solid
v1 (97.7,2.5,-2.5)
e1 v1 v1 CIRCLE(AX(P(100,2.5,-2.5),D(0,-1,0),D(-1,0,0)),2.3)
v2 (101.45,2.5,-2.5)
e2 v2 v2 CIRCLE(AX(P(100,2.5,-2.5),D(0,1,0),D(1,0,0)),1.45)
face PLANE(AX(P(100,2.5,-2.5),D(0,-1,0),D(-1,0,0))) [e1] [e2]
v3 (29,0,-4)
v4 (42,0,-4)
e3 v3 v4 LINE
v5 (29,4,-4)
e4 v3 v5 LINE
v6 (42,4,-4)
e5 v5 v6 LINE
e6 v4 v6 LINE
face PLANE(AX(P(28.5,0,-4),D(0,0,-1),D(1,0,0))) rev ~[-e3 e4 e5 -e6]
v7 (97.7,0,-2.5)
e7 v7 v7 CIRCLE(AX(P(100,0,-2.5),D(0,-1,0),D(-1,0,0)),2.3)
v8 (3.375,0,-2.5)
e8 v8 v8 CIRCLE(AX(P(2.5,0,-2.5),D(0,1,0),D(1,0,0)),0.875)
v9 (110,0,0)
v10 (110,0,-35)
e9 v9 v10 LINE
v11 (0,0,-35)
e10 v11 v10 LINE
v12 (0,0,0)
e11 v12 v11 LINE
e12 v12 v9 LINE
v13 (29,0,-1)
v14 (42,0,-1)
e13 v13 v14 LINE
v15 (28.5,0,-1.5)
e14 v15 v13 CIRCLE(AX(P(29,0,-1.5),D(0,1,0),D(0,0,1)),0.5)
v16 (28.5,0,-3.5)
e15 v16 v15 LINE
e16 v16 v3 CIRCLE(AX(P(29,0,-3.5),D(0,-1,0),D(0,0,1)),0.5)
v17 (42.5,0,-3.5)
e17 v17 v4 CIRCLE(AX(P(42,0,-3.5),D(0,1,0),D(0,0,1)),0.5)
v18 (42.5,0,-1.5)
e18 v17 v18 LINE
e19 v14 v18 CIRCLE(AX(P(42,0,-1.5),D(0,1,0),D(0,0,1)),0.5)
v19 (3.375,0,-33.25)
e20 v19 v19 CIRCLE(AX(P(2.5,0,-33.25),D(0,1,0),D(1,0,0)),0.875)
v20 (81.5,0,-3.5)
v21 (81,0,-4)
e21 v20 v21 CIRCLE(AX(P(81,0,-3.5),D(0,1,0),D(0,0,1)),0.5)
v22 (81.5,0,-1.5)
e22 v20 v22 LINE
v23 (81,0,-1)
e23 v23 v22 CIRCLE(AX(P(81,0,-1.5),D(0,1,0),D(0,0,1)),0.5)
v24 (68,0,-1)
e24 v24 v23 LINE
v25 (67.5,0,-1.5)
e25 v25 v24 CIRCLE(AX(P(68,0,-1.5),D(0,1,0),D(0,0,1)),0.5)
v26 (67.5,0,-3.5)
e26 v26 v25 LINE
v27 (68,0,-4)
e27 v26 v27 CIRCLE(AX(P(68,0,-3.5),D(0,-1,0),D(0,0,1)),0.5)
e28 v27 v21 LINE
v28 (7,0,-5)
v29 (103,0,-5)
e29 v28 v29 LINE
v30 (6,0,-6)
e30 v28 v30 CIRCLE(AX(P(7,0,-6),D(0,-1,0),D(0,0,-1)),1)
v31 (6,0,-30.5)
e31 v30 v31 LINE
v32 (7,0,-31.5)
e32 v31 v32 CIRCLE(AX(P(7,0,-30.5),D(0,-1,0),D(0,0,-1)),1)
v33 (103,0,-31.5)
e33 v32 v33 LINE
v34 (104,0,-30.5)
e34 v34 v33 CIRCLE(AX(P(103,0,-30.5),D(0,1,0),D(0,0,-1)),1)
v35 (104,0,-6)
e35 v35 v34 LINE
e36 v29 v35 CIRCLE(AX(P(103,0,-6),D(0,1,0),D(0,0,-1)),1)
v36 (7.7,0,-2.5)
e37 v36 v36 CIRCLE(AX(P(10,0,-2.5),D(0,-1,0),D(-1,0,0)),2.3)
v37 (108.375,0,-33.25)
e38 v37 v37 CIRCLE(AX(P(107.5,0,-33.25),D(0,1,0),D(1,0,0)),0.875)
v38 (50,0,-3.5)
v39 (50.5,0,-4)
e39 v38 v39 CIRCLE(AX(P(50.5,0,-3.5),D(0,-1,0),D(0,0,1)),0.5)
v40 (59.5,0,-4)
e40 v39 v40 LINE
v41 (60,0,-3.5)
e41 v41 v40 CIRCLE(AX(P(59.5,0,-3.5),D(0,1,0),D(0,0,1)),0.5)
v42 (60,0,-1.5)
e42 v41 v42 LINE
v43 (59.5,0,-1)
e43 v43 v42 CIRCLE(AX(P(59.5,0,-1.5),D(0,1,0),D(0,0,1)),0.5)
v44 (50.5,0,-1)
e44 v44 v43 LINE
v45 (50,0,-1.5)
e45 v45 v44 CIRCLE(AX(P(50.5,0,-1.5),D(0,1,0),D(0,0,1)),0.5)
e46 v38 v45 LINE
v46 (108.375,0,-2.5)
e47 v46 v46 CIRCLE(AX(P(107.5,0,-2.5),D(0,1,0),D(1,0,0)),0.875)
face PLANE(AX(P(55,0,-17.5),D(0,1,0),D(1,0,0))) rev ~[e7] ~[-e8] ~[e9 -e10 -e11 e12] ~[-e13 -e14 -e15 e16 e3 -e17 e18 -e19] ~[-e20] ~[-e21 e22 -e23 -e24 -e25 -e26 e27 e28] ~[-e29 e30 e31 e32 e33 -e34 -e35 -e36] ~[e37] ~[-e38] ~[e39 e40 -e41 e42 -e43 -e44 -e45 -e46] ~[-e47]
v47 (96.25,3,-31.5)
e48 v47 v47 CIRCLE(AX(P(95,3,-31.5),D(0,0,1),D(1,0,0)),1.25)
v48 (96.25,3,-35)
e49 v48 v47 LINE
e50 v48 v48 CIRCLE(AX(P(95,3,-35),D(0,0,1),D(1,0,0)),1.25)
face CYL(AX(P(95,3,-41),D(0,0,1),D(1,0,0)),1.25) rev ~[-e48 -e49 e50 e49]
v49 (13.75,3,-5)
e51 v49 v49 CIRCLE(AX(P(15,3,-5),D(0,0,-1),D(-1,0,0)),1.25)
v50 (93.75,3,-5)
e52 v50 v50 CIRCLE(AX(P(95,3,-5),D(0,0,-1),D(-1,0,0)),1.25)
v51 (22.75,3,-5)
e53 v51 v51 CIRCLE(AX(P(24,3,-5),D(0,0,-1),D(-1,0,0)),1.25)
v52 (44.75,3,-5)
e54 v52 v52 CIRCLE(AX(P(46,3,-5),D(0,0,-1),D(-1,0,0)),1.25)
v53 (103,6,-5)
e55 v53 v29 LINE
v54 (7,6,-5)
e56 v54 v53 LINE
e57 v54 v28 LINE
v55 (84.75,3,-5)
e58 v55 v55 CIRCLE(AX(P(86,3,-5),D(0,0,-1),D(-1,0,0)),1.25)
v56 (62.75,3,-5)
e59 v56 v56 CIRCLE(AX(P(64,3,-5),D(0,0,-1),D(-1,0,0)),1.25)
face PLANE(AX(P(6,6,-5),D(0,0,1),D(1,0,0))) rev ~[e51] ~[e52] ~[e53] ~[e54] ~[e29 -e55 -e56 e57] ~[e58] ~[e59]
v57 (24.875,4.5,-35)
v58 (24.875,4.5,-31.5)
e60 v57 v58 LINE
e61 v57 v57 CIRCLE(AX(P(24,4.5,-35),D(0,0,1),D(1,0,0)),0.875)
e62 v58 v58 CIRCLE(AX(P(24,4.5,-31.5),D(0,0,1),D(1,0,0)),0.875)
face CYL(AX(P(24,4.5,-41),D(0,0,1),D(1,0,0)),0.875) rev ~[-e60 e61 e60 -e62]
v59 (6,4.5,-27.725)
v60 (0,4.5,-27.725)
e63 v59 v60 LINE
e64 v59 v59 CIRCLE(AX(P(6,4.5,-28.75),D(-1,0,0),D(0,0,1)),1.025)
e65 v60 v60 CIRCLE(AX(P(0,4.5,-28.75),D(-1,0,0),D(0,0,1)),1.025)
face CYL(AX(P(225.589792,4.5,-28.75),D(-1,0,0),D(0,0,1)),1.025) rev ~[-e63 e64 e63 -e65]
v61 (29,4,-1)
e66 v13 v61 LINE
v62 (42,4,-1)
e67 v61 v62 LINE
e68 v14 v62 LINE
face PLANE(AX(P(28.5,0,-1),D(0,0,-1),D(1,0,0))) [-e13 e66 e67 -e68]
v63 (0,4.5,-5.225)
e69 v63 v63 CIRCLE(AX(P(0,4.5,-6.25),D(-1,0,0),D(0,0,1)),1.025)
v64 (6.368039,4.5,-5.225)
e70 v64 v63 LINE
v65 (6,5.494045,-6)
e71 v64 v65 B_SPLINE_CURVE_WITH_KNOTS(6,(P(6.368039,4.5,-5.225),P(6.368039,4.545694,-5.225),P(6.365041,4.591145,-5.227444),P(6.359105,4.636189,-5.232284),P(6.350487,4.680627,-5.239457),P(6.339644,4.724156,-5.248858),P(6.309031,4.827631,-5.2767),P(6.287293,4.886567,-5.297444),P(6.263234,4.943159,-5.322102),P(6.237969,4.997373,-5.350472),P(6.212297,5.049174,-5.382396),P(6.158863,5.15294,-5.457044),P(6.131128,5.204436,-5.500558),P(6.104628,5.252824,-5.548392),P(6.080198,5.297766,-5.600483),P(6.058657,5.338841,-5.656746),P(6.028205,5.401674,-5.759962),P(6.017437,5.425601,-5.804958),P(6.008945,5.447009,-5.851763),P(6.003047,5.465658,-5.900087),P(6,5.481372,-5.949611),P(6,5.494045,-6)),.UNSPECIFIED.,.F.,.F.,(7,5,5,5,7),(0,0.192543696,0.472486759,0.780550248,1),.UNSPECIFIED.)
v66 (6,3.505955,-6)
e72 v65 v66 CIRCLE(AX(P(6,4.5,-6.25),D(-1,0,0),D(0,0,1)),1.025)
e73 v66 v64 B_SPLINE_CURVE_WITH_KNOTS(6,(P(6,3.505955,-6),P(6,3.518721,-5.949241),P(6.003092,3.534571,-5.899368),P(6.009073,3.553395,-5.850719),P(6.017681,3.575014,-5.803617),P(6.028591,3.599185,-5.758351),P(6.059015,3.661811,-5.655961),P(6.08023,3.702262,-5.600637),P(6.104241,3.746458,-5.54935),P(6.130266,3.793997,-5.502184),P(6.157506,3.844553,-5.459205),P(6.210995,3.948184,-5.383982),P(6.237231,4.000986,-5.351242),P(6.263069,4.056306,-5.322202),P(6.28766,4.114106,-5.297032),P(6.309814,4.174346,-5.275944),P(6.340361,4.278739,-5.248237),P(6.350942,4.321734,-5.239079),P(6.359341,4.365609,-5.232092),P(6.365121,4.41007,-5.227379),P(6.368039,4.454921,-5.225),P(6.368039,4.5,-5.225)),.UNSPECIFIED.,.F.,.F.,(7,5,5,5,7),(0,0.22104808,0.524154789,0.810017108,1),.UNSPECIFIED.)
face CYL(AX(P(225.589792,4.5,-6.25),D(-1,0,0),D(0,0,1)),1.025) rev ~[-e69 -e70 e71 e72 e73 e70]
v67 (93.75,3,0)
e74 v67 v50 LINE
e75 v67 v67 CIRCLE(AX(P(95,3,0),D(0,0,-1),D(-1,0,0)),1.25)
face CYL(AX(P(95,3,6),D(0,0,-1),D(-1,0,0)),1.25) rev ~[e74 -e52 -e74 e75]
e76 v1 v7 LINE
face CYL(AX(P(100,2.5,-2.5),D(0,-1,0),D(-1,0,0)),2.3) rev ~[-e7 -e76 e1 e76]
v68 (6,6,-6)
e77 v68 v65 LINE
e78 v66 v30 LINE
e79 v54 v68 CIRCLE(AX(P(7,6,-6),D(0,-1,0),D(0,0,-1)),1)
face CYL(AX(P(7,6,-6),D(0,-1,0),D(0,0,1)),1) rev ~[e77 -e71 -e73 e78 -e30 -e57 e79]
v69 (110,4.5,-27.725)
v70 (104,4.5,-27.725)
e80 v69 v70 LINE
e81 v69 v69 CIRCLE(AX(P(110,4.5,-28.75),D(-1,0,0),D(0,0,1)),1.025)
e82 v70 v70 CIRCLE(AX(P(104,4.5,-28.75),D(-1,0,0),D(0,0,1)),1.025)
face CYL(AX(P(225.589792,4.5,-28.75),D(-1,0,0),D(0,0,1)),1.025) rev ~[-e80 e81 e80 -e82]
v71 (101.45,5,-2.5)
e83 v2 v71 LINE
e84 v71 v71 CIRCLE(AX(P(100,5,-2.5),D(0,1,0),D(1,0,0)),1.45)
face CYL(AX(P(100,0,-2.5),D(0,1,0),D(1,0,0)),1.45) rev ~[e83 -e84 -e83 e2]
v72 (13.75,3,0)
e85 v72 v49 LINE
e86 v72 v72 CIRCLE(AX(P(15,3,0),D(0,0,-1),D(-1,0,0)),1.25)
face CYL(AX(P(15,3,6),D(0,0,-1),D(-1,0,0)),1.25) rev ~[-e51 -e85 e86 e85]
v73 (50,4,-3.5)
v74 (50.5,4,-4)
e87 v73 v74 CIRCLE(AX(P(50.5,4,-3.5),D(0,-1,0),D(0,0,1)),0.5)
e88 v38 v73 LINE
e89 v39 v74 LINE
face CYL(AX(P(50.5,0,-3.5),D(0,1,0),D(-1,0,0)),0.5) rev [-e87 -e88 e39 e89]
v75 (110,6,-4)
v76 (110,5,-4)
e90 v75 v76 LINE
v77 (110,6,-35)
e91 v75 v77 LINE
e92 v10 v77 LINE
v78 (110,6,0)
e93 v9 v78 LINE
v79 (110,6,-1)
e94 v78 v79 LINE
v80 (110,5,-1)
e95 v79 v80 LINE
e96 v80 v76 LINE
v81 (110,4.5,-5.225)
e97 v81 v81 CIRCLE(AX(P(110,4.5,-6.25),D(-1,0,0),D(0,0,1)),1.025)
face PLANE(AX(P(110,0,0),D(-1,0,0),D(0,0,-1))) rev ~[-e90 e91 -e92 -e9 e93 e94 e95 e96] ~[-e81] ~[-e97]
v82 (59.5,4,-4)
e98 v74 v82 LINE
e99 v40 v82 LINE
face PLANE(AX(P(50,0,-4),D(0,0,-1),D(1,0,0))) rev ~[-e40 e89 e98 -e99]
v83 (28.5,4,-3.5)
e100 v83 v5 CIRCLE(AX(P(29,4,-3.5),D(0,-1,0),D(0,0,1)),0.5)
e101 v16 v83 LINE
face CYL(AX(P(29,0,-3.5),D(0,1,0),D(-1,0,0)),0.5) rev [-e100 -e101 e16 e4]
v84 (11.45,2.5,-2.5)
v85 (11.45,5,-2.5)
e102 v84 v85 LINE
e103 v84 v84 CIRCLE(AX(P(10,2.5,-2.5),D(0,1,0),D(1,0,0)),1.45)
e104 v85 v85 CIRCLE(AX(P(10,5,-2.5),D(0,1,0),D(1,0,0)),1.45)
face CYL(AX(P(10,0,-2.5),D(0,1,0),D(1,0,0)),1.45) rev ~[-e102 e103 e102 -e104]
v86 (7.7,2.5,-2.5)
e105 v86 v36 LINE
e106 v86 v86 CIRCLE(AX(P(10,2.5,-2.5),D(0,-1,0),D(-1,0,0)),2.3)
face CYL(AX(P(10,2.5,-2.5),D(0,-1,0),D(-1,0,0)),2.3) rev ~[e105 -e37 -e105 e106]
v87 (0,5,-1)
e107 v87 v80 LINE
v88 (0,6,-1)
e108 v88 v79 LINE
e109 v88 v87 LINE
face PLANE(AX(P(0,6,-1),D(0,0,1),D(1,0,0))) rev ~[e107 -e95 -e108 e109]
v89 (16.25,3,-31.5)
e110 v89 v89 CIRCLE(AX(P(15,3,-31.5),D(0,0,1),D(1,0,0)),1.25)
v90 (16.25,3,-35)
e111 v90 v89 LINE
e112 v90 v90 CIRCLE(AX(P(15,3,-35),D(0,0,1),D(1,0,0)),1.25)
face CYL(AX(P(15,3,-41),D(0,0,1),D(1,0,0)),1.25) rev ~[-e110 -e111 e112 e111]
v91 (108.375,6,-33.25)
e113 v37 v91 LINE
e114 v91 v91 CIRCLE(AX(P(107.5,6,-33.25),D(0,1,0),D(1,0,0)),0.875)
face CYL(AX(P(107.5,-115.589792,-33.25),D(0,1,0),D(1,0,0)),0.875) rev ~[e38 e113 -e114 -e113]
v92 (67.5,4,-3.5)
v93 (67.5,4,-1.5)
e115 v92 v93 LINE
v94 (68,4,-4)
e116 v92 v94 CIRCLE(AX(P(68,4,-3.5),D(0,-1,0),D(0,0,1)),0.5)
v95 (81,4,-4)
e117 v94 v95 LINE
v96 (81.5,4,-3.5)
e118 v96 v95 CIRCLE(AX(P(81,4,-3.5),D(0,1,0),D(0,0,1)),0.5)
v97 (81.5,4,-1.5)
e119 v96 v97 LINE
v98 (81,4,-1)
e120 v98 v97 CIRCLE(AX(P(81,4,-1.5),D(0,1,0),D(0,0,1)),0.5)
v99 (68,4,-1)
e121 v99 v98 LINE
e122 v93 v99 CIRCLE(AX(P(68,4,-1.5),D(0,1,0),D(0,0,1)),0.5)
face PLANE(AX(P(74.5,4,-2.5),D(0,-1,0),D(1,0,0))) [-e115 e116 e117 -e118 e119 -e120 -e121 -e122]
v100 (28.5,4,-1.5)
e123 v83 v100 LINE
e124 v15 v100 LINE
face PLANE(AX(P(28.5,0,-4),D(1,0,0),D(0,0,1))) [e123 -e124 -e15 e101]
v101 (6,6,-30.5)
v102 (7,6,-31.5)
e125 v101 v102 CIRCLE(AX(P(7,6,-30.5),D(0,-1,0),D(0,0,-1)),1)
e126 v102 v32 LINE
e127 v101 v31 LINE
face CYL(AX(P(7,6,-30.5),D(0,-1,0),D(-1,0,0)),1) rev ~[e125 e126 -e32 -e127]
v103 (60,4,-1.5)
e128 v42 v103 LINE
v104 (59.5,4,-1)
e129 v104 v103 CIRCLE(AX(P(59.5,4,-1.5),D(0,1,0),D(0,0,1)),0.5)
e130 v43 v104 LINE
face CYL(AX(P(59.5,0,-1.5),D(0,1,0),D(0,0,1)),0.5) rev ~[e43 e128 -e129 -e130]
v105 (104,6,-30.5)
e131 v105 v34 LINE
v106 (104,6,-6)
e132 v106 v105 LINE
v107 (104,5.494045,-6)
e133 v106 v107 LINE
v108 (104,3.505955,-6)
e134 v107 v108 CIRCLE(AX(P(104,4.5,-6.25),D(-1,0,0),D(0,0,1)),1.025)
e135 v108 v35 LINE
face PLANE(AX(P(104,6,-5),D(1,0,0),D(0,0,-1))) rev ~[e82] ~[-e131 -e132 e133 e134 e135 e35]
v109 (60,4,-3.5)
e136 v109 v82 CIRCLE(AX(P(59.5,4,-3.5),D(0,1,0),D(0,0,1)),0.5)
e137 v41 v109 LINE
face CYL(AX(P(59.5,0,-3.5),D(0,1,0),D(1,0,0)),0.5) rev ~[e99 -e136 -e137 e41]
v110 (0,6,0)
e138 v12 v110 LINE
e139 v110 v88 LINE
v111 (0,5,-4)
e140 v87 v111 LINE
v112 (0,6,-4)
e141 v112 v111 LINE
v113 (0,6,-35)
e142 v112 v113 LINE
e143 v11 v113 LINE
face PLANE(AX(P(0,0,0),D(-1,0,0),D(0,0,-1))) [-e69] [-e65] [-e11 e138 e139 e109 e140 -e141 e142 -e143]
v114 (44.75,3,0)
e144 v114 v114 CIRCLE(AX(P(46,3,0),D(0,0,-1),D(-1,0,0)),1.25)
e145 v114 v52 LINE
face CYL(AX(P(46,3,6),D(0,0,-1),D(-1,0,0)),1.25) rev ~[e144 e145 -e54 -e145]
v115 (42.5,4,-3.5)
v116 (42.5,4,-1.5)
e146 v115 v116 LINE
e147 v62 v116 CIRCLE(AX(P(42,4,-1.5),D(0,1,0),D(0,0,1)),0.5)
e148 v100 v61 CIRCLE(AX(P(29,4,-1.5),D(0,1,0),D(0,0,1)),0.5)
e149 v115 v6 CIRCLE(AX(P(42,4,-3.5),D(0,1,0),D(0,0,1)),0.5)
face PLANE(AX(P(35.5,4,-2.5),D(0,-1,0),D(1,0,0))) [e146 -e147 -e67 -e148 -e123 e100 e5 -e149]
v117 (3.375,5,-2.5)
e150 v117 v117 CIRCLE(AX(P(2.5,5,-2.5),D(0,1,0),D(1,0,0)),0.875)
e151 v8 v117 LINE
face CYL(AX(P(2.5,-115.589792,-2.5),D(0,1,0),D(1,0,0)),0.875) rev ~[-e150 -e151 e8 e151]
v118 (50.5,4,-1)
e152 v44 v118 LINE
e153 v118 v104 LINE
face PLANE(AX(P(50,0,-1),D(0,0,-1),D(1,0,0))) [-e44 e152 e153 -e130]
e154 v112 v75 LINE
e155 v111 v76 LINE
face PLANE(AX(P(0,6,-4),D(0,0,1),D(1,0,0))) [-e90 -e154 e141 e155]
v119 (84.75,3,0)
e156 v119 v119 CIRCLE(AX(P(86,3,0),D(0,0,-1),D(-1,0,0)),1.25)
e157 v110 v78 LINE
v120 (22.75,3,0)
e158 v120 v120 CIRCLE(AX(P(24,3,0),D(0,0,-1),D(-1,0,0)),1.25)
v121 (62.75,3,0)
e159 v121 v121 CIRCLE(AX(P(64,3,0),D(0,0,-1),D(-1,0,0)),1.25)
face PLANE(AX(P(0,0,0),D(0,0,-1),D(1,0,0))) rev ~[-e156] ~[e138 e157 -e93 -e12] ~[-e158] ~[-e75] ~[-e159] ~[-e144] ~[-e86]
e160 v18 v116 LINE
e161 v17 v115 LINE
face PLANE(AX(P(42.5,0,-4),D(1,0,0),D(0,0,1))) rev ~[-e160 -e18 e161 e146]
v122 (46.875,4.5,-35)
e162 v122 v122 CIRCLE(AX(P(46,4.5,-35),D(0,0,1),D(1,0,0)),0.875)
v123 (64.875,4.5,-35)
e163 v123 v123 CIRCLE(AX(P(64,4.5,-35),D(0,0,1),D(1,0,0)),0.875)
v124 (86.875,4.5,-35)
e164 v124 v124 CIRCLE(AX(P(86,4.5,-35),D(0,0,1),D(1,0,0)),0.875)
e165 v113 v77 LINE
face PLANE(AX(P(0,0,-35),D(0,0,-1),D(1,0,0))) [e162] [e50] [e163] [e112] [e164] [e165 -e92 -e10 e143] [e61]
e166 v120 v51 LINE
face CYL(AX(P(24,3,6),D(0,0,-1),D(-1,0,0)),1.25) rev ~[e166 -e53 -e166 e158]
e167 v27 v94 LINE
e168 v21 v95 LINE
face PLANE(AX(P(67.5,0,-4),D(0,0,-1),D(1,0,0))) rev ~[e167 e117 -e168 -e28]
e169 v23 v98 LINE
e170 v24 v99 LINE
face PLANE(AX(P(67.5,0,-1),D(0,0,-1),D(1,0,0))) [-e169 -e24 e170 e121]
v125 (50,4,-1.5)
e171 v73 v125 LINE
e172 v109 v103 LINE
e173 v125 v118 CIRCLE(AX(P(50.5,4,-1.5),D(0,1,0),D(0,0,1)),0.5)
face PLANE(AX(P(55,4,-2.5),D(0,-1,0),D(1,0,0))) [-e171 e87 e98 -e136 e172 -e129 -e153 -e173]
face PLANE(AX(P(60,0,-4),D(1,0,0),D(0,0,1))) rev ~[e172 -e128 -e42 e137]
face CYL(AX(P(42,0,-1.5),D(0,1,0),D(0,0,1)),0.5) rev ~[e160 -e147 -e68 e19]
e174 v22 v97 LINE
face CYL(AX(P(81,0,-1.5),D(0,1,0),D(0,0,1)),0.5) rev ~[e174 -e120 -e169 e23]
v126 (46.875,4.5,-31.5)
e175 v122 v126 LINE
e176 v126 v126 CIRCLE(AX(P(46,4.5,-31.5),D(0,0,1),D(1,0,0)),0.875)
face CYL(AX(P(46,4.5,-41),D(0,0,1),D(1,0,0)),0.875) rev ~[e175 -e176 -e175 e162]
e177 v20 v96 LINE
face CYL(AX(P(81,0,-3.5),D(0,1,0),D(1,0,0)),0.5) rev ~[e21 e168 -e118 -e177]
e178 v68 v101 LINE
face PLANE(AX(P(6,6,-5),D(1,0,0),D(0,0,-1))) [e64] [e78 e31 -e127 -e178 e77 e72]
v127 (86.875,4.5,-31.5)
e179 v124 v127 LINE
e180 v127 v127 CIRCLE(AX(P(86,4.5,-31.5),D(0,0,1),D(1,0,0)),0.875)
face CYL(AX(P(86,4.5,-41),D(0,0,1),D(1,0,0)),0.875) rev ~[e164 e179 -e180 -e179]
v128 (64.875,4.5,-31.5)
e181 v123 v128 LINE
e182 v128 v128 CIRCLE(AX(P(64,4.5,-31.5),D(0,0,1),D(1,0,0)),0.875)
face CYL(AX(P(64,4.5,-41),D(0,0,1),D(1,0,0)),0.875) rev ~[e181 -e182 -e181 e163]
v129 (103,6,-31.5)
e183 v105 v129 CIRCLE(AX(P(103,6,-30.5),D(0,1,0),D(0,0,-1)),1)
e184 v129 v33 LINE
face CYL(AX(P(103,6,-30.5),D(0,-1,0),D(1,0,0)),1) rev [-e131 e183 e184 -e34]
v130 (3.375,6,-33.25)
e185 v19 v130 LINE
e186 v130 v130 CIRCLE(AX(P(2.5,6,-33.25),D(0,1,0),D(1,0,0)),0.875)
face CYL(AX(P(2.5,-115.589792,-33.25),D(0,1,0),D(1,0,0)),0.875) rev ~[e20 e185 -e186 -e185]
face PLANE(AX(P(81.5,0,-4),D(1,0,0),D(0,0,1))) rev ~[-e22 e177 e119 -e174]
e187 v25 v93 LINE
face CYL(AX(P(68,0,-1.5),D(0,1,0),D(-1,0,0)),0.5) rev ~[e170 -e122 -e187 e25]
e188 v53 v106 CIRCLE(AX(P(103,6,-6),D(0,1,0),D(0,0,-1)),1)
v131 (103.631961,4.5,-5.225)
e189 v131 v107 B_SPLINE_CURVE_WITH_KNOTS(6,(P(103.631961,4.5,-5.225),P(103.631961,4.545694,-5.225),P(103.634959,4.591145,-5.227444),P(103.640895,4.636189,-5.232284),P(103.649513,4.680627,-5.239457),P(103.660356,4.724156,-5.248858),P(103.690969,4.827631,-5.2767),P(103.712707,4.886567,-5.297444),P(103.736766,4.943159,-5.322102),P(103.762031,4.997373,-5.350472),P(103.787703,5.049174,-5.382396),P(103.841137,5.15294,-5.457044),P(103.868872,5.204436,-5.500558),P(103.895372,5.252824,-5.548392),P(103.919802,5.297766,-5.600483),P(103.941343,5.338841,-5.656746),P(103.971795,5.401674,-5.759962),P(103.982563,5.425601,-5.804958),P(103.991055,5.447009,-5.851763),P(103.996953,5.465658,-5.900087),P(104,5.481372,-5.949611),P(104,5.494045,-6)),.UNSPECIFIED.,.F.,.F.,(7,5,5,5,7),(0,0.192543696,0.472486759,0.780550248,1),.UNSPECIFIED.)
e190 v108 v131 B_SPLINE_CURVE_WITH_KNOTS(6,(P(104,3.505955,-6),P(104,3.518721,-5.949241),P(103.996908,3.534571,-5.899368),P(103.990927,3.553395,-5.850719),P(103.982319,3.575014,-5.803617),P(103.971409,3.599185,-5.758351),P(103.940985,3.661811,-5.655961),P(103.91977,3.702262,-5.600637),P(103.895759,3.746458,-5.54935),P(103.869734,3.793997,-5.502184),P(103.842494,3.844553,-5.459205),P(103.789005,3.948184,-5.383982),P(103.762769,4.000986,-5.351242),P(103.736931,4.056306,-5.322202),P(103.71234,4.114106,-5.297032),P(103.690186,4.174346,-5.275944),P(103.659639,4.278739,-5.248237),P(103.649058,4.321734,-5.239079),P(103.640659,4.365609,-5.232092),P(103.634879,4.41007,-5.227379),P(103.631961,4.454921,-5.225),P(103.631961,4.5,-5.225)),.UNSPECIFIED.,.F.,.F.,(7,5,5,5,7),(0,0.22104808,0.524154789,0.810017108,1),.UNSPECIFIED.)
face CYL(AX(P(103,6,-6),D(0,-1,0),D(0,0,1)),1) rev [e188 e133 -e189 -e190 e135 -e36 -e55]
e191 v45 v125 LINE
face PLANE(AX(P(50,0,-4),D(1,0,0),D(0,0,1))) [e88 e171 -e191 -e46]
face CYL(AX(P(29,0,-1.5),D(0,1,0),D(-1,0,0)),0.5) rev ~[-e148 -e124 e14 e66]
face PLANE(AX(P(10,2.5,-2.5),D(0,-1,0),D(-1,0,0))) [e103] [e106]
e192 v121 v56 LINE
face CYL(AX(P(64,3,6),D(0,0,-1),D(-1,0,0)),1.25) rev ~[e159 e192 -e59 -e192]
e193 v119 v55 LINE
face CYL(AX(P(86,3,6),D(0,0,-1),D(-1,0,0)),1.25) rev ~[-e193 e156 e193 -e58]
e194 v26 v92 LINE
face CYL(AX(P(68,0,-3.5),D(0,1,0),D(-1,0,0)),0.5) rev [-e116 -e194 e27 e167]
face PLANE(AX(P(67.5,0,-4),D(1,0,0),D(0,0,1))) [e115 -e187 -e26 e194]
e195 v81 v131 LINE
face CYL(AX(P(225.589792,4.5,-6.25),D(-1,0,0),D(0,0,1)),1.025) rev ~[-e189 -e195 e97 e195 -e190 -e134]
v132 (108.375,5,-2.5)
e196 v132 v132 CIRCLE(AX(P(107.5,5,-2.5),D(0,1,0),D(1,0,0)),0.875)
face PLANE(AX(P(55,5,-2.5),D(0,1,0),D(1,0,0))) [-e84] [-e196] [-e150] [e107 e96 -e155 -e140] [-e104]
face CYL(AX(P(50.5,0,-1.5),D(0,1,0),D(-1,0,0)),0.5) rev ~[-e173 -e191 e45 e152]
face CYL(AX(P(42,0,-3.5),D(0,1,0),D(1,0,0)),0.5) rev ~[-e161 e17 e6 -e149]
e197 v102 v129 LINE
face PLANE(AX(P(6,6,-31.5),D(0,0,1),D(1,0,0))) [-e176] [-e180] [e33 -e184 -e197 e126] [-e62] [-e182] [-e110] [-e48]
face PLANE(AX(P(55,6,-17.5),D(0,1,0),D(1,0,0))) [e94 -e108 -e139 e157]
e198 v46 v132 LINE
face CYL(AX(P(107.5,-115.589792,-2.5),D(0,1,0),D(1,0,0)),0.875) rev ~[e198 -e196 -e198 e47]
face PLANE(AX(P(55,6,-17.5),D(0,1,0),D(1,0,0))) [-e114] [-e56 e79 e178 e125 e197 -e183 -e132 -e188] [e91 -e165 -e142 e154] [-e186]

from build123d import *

# Parameters (mm, degrees)
SKETCH1_W                          = 110
SKETCH1_H                          = 35
BOSS_EXTRUDE1_DEPTH                = 6
SKETCH2_W                          = 98
SKETCH2_H                          = 26.5
CUT_EXTRUDE1_DEPTH                 = 6
SKETCH3_W                          = 110
SKETCH3_H                          = 3
CUT_EXTRUDE2_DEPTH                 = 1
CBORE_FOR_M2_5_SHCS1_D             = 2.9
CBORE_FOR_M2_5_SHCS1_CBORE_D       = 4.6
CBORE_FOR_M2_5_SHCS1_CBORE_DEPTH   = 2.5
FILLET1_R                          = 1
TAP_DRILL_FOR_M2_2X0_45_TAP1_D     = 1.75
TAP_DRILL_FOR_M3X0_5_TAP1_D        = 2.5
TAP_DRILL_FOR_M3X0_5_TAP1_DEPTH    = 6
TAP_DRILL_FOR_M3X0_5_TAP1_TIP      = 0.751075774
SKETCH17_W                         = 10
SKETCH17_H                         = 3
SKETCH17_W_2                       = 14
CUT_EXTRUDE3_DEPTH                 = 4
FILLET2_R                          = 0.5
TAP_DRILL_FOR_M3X0_5_TAP2_D        = 2.5
TAP_DRILL_FOR_M3X0_5_TAP2_DEPTH    = 6
TAP_DRILL_FOR_M3X0_5_TAP2_TIP      = 0.751075774
TAP_DRILL_FOR_M2_2X0_45_TAP2_D     = 1.75
TAP_DRILL_FOR_M2_2X0_45_TAP2_DEPTH = 6
TAP_DRILL_FOR_M2_2X0_45_TAP2_TIP   = 0.525753042
TAP_DRILL_FOR_M2_5X0_45_TAP2_D     = 2.05


with BuildPart() as part:
    # Sketch1 → Boss-Extrude1 (new body)
    with BuildSketch(Plane(origin=(0, 0, 0), x_dir=(1, 0, 0), z_dir=(0, 1, 0))):
        with Locations((55, 17.5)):
            Rectangle(SKETCH1_W, SKETCH1_H)
    extrude(amount=BOSS_EXTRUDE1_DEPTH)

    # Sketch2 → Cut-Extrude1 (cut)
    with BuildSketch(Plane(origin=(0, 6, 0), x_dir=(1, 0, 0), z_dir=(0, 1, 0))):
        with Locations((55, 18.25)):
            Rectangle(SKETCH2_W, SKETCH2_H)
    extrude(amount=-CUT_EXTRUDE1_DEPTH, mode=Mode.SUBTRACT)

    # Sketch3 → Cut-Extrude2 (cut)
    with BuildSketch(Plane(origin=(0, 6, 0), x_dir=(1, 0, 0), z_dir=(0, 1, 0))):
        with Locations((55, 2.5)):
            Rectangle(SKETCH3_W, SKETCH3_H)
    extrude(amount=-CUT_EXTRUDE2_DEPTH, mode=Mode.SUBTRACT)

    # CBORE for M2.5 SHCS1 (through all)
    with Locations(Plane(origin=(0, 0, 0), x_dir=(-1, 0, 0), z_dir=(0, -1, 0))):
        with Locations((-100, 2.5), (-10, 2.5)):
            CounterBoreHole(CBORE_FOR_M2_5_SHCS1_D / 2, CBORE_FOR_M2_5_SHCS1_CBORE_D / 2, CBORE_FOR_M2_5_SHCS1_CBORE_DEPTH)

    # Fillet1
    fillet1_edges = [part.edges().sort_by_distance(p)[0] for p in [
        (6, 3, -5),
        (6, 3, -31.5),
        (104, 3, -31.5),
        (104, 3, -5),
    ]]
    fillet(fillet1_edges, radius=FILLET1_R)

    # Tap Drill for M2.2x0.45 Tap1 (through all)
    with Locations(Plane(origin=(0, 0, 0), x_dir=(-1, 0, 0), z_dir=(0, -1, 0))):
        with Locations((-2.5, 2.5), (-107.5, 2.5), (-107.5, 33.25), (-2.5, 33.25)):
            Hole(TAP_DRILL_FOR_M2_2X0_45_TAP1_D / 2)

    # Tap Drill for M3x0.5 Tap1
    with Locations(Plane.XY):
        with Locations((15, 3), (24, 3), (46, 3), (64, 3), (86, 3), (95, 3)):
            Hole(TAP_DRILL_FOR_M3X0_5_TAP1_D / 2, depth=TAP_DRILL_FOR_M3X0_5_TAP1_DEPTH)
            with Locations((0, 0, -(TAP_DRILL_FOR_M3X0_5_TAP1_DEPTH + TAP_DRILL_FOR_M3X0_5_TAP1_TIP / 2))):  # 118° drill point
                Cone(0, TAP_DRILL_FOR_M3X0_5_TAP1_D / 2, TAP_DRILL_FOR_M3X0_5_TAP1_TIP, mode=Mode.SUBTRACT)

    # Sketch17 → Cut-Extrude3 (cut)
    with BuildSketch(Plane.XZ):
        with Locations((55, -2.5)):
            Rectangle(SKETCH17_W, SKETCH17_H)
        with Locations((35.5, -2.5)):
            Rectangle(SKETCH17_W_2, SKETCH17_H)
        with Locations((74.5, -2.5)):
            Rectangle(SKETCH17_W_2, SKETCH17_H)
    extrude(amount=-CUT_EXTRUDE3_DEPTH, mode=Mode.SUBTRACT)

    # Fillet2
    fillet2_edges = [part.edges().sort_by_distance(p)[0] for p in [
        (50, 2, -4),
        (50, 2, -1),
        (60, 2, -1),
        (60, 2, -4),
        (28.5, 2, -4),
        (28.5, 2, -1),
        (42.5, 2, -1),
        (42.5, 2, -4),
        (67.5, 2, -4),
        (67.5, 2, -1),
        (81.5, 2, -1),
        (81.5, 2, -4),
    ]]
    fillet(fillet2_edges, radius=FILLET2_R)

    # Tap Drill for M3x0.5 Tap2
    with Locations(Plane(origin=(0, 0, -35), x_dir=(-1, 0, 0), z_dir=(0, 0, -1))):
        with Locations((-15, 3), (-95, 3)):
            Hole(TAP_DRILL_FOR_M3X0_5_TAP2_D / 2, depth=TAP_DRILL_FOR_M3X0_5_TAP2_DEPTH)
            with Locations((0, 0, -(TAP_DRILL_FOR_M3X0_5_TAP2_DEPTH + TAP_DRILL_FOR_M3X0_5_TAP2_TIP / 2))):  # 118° drill point
                Cone(0, TAP_DRILL_FOR_M3X0_5_TAP2_D / 2, TAP_DRILL_FOR_M3X0_5_TAP2_TIP, mode=Mode.SUBTRACT)

    # Tap Drill for M2.2x0.45 Tap2
    with Locations(Plane(origin=(0, 0, -35), x_dir=(-1, 0, 0), z_dir=(0, 0, -1))):
        with Locations((-24, 4.5), (-46, 4.5), (-64, 4.5), (-86, 4.5)):
            Hole(TAP_DRILL_FOR_M2_2X0_45_TAP2_D / 2, depth=TAP_DRILL_FOR_M2_2X0_45_TAP2_DEPTH)
            with Locations((0, 0, -(TAP_DRILL_FOR_M2_2X0_45_TAP2_DEPTH + TAP_DRILL_FOR_M2_2X0_45_TAP2_TIP / 2))):  # 118° drill point
                Cone(0, TAP_DRILL_FOR_M2_2X0_45_TAP2_D / 2, TAP_DRILL_FOR_M2_2X0_45_TAP2_TIP, mode=Mode.SUBTRACT)

    # Tap Drill for M2.5x0.45 Tap2 (through all)
    with Locations(Plane(origin=(110, 0, 0), x_dir=(0, 0, -1), z_dir=(1, 0, 0))):
        with Locations((6.25, 4.5), (28.75, 4.5)):
            Hole(TAP_DRILL_FOR_M2_5X0_45_TAP2_D / 2)


solid = part.part
